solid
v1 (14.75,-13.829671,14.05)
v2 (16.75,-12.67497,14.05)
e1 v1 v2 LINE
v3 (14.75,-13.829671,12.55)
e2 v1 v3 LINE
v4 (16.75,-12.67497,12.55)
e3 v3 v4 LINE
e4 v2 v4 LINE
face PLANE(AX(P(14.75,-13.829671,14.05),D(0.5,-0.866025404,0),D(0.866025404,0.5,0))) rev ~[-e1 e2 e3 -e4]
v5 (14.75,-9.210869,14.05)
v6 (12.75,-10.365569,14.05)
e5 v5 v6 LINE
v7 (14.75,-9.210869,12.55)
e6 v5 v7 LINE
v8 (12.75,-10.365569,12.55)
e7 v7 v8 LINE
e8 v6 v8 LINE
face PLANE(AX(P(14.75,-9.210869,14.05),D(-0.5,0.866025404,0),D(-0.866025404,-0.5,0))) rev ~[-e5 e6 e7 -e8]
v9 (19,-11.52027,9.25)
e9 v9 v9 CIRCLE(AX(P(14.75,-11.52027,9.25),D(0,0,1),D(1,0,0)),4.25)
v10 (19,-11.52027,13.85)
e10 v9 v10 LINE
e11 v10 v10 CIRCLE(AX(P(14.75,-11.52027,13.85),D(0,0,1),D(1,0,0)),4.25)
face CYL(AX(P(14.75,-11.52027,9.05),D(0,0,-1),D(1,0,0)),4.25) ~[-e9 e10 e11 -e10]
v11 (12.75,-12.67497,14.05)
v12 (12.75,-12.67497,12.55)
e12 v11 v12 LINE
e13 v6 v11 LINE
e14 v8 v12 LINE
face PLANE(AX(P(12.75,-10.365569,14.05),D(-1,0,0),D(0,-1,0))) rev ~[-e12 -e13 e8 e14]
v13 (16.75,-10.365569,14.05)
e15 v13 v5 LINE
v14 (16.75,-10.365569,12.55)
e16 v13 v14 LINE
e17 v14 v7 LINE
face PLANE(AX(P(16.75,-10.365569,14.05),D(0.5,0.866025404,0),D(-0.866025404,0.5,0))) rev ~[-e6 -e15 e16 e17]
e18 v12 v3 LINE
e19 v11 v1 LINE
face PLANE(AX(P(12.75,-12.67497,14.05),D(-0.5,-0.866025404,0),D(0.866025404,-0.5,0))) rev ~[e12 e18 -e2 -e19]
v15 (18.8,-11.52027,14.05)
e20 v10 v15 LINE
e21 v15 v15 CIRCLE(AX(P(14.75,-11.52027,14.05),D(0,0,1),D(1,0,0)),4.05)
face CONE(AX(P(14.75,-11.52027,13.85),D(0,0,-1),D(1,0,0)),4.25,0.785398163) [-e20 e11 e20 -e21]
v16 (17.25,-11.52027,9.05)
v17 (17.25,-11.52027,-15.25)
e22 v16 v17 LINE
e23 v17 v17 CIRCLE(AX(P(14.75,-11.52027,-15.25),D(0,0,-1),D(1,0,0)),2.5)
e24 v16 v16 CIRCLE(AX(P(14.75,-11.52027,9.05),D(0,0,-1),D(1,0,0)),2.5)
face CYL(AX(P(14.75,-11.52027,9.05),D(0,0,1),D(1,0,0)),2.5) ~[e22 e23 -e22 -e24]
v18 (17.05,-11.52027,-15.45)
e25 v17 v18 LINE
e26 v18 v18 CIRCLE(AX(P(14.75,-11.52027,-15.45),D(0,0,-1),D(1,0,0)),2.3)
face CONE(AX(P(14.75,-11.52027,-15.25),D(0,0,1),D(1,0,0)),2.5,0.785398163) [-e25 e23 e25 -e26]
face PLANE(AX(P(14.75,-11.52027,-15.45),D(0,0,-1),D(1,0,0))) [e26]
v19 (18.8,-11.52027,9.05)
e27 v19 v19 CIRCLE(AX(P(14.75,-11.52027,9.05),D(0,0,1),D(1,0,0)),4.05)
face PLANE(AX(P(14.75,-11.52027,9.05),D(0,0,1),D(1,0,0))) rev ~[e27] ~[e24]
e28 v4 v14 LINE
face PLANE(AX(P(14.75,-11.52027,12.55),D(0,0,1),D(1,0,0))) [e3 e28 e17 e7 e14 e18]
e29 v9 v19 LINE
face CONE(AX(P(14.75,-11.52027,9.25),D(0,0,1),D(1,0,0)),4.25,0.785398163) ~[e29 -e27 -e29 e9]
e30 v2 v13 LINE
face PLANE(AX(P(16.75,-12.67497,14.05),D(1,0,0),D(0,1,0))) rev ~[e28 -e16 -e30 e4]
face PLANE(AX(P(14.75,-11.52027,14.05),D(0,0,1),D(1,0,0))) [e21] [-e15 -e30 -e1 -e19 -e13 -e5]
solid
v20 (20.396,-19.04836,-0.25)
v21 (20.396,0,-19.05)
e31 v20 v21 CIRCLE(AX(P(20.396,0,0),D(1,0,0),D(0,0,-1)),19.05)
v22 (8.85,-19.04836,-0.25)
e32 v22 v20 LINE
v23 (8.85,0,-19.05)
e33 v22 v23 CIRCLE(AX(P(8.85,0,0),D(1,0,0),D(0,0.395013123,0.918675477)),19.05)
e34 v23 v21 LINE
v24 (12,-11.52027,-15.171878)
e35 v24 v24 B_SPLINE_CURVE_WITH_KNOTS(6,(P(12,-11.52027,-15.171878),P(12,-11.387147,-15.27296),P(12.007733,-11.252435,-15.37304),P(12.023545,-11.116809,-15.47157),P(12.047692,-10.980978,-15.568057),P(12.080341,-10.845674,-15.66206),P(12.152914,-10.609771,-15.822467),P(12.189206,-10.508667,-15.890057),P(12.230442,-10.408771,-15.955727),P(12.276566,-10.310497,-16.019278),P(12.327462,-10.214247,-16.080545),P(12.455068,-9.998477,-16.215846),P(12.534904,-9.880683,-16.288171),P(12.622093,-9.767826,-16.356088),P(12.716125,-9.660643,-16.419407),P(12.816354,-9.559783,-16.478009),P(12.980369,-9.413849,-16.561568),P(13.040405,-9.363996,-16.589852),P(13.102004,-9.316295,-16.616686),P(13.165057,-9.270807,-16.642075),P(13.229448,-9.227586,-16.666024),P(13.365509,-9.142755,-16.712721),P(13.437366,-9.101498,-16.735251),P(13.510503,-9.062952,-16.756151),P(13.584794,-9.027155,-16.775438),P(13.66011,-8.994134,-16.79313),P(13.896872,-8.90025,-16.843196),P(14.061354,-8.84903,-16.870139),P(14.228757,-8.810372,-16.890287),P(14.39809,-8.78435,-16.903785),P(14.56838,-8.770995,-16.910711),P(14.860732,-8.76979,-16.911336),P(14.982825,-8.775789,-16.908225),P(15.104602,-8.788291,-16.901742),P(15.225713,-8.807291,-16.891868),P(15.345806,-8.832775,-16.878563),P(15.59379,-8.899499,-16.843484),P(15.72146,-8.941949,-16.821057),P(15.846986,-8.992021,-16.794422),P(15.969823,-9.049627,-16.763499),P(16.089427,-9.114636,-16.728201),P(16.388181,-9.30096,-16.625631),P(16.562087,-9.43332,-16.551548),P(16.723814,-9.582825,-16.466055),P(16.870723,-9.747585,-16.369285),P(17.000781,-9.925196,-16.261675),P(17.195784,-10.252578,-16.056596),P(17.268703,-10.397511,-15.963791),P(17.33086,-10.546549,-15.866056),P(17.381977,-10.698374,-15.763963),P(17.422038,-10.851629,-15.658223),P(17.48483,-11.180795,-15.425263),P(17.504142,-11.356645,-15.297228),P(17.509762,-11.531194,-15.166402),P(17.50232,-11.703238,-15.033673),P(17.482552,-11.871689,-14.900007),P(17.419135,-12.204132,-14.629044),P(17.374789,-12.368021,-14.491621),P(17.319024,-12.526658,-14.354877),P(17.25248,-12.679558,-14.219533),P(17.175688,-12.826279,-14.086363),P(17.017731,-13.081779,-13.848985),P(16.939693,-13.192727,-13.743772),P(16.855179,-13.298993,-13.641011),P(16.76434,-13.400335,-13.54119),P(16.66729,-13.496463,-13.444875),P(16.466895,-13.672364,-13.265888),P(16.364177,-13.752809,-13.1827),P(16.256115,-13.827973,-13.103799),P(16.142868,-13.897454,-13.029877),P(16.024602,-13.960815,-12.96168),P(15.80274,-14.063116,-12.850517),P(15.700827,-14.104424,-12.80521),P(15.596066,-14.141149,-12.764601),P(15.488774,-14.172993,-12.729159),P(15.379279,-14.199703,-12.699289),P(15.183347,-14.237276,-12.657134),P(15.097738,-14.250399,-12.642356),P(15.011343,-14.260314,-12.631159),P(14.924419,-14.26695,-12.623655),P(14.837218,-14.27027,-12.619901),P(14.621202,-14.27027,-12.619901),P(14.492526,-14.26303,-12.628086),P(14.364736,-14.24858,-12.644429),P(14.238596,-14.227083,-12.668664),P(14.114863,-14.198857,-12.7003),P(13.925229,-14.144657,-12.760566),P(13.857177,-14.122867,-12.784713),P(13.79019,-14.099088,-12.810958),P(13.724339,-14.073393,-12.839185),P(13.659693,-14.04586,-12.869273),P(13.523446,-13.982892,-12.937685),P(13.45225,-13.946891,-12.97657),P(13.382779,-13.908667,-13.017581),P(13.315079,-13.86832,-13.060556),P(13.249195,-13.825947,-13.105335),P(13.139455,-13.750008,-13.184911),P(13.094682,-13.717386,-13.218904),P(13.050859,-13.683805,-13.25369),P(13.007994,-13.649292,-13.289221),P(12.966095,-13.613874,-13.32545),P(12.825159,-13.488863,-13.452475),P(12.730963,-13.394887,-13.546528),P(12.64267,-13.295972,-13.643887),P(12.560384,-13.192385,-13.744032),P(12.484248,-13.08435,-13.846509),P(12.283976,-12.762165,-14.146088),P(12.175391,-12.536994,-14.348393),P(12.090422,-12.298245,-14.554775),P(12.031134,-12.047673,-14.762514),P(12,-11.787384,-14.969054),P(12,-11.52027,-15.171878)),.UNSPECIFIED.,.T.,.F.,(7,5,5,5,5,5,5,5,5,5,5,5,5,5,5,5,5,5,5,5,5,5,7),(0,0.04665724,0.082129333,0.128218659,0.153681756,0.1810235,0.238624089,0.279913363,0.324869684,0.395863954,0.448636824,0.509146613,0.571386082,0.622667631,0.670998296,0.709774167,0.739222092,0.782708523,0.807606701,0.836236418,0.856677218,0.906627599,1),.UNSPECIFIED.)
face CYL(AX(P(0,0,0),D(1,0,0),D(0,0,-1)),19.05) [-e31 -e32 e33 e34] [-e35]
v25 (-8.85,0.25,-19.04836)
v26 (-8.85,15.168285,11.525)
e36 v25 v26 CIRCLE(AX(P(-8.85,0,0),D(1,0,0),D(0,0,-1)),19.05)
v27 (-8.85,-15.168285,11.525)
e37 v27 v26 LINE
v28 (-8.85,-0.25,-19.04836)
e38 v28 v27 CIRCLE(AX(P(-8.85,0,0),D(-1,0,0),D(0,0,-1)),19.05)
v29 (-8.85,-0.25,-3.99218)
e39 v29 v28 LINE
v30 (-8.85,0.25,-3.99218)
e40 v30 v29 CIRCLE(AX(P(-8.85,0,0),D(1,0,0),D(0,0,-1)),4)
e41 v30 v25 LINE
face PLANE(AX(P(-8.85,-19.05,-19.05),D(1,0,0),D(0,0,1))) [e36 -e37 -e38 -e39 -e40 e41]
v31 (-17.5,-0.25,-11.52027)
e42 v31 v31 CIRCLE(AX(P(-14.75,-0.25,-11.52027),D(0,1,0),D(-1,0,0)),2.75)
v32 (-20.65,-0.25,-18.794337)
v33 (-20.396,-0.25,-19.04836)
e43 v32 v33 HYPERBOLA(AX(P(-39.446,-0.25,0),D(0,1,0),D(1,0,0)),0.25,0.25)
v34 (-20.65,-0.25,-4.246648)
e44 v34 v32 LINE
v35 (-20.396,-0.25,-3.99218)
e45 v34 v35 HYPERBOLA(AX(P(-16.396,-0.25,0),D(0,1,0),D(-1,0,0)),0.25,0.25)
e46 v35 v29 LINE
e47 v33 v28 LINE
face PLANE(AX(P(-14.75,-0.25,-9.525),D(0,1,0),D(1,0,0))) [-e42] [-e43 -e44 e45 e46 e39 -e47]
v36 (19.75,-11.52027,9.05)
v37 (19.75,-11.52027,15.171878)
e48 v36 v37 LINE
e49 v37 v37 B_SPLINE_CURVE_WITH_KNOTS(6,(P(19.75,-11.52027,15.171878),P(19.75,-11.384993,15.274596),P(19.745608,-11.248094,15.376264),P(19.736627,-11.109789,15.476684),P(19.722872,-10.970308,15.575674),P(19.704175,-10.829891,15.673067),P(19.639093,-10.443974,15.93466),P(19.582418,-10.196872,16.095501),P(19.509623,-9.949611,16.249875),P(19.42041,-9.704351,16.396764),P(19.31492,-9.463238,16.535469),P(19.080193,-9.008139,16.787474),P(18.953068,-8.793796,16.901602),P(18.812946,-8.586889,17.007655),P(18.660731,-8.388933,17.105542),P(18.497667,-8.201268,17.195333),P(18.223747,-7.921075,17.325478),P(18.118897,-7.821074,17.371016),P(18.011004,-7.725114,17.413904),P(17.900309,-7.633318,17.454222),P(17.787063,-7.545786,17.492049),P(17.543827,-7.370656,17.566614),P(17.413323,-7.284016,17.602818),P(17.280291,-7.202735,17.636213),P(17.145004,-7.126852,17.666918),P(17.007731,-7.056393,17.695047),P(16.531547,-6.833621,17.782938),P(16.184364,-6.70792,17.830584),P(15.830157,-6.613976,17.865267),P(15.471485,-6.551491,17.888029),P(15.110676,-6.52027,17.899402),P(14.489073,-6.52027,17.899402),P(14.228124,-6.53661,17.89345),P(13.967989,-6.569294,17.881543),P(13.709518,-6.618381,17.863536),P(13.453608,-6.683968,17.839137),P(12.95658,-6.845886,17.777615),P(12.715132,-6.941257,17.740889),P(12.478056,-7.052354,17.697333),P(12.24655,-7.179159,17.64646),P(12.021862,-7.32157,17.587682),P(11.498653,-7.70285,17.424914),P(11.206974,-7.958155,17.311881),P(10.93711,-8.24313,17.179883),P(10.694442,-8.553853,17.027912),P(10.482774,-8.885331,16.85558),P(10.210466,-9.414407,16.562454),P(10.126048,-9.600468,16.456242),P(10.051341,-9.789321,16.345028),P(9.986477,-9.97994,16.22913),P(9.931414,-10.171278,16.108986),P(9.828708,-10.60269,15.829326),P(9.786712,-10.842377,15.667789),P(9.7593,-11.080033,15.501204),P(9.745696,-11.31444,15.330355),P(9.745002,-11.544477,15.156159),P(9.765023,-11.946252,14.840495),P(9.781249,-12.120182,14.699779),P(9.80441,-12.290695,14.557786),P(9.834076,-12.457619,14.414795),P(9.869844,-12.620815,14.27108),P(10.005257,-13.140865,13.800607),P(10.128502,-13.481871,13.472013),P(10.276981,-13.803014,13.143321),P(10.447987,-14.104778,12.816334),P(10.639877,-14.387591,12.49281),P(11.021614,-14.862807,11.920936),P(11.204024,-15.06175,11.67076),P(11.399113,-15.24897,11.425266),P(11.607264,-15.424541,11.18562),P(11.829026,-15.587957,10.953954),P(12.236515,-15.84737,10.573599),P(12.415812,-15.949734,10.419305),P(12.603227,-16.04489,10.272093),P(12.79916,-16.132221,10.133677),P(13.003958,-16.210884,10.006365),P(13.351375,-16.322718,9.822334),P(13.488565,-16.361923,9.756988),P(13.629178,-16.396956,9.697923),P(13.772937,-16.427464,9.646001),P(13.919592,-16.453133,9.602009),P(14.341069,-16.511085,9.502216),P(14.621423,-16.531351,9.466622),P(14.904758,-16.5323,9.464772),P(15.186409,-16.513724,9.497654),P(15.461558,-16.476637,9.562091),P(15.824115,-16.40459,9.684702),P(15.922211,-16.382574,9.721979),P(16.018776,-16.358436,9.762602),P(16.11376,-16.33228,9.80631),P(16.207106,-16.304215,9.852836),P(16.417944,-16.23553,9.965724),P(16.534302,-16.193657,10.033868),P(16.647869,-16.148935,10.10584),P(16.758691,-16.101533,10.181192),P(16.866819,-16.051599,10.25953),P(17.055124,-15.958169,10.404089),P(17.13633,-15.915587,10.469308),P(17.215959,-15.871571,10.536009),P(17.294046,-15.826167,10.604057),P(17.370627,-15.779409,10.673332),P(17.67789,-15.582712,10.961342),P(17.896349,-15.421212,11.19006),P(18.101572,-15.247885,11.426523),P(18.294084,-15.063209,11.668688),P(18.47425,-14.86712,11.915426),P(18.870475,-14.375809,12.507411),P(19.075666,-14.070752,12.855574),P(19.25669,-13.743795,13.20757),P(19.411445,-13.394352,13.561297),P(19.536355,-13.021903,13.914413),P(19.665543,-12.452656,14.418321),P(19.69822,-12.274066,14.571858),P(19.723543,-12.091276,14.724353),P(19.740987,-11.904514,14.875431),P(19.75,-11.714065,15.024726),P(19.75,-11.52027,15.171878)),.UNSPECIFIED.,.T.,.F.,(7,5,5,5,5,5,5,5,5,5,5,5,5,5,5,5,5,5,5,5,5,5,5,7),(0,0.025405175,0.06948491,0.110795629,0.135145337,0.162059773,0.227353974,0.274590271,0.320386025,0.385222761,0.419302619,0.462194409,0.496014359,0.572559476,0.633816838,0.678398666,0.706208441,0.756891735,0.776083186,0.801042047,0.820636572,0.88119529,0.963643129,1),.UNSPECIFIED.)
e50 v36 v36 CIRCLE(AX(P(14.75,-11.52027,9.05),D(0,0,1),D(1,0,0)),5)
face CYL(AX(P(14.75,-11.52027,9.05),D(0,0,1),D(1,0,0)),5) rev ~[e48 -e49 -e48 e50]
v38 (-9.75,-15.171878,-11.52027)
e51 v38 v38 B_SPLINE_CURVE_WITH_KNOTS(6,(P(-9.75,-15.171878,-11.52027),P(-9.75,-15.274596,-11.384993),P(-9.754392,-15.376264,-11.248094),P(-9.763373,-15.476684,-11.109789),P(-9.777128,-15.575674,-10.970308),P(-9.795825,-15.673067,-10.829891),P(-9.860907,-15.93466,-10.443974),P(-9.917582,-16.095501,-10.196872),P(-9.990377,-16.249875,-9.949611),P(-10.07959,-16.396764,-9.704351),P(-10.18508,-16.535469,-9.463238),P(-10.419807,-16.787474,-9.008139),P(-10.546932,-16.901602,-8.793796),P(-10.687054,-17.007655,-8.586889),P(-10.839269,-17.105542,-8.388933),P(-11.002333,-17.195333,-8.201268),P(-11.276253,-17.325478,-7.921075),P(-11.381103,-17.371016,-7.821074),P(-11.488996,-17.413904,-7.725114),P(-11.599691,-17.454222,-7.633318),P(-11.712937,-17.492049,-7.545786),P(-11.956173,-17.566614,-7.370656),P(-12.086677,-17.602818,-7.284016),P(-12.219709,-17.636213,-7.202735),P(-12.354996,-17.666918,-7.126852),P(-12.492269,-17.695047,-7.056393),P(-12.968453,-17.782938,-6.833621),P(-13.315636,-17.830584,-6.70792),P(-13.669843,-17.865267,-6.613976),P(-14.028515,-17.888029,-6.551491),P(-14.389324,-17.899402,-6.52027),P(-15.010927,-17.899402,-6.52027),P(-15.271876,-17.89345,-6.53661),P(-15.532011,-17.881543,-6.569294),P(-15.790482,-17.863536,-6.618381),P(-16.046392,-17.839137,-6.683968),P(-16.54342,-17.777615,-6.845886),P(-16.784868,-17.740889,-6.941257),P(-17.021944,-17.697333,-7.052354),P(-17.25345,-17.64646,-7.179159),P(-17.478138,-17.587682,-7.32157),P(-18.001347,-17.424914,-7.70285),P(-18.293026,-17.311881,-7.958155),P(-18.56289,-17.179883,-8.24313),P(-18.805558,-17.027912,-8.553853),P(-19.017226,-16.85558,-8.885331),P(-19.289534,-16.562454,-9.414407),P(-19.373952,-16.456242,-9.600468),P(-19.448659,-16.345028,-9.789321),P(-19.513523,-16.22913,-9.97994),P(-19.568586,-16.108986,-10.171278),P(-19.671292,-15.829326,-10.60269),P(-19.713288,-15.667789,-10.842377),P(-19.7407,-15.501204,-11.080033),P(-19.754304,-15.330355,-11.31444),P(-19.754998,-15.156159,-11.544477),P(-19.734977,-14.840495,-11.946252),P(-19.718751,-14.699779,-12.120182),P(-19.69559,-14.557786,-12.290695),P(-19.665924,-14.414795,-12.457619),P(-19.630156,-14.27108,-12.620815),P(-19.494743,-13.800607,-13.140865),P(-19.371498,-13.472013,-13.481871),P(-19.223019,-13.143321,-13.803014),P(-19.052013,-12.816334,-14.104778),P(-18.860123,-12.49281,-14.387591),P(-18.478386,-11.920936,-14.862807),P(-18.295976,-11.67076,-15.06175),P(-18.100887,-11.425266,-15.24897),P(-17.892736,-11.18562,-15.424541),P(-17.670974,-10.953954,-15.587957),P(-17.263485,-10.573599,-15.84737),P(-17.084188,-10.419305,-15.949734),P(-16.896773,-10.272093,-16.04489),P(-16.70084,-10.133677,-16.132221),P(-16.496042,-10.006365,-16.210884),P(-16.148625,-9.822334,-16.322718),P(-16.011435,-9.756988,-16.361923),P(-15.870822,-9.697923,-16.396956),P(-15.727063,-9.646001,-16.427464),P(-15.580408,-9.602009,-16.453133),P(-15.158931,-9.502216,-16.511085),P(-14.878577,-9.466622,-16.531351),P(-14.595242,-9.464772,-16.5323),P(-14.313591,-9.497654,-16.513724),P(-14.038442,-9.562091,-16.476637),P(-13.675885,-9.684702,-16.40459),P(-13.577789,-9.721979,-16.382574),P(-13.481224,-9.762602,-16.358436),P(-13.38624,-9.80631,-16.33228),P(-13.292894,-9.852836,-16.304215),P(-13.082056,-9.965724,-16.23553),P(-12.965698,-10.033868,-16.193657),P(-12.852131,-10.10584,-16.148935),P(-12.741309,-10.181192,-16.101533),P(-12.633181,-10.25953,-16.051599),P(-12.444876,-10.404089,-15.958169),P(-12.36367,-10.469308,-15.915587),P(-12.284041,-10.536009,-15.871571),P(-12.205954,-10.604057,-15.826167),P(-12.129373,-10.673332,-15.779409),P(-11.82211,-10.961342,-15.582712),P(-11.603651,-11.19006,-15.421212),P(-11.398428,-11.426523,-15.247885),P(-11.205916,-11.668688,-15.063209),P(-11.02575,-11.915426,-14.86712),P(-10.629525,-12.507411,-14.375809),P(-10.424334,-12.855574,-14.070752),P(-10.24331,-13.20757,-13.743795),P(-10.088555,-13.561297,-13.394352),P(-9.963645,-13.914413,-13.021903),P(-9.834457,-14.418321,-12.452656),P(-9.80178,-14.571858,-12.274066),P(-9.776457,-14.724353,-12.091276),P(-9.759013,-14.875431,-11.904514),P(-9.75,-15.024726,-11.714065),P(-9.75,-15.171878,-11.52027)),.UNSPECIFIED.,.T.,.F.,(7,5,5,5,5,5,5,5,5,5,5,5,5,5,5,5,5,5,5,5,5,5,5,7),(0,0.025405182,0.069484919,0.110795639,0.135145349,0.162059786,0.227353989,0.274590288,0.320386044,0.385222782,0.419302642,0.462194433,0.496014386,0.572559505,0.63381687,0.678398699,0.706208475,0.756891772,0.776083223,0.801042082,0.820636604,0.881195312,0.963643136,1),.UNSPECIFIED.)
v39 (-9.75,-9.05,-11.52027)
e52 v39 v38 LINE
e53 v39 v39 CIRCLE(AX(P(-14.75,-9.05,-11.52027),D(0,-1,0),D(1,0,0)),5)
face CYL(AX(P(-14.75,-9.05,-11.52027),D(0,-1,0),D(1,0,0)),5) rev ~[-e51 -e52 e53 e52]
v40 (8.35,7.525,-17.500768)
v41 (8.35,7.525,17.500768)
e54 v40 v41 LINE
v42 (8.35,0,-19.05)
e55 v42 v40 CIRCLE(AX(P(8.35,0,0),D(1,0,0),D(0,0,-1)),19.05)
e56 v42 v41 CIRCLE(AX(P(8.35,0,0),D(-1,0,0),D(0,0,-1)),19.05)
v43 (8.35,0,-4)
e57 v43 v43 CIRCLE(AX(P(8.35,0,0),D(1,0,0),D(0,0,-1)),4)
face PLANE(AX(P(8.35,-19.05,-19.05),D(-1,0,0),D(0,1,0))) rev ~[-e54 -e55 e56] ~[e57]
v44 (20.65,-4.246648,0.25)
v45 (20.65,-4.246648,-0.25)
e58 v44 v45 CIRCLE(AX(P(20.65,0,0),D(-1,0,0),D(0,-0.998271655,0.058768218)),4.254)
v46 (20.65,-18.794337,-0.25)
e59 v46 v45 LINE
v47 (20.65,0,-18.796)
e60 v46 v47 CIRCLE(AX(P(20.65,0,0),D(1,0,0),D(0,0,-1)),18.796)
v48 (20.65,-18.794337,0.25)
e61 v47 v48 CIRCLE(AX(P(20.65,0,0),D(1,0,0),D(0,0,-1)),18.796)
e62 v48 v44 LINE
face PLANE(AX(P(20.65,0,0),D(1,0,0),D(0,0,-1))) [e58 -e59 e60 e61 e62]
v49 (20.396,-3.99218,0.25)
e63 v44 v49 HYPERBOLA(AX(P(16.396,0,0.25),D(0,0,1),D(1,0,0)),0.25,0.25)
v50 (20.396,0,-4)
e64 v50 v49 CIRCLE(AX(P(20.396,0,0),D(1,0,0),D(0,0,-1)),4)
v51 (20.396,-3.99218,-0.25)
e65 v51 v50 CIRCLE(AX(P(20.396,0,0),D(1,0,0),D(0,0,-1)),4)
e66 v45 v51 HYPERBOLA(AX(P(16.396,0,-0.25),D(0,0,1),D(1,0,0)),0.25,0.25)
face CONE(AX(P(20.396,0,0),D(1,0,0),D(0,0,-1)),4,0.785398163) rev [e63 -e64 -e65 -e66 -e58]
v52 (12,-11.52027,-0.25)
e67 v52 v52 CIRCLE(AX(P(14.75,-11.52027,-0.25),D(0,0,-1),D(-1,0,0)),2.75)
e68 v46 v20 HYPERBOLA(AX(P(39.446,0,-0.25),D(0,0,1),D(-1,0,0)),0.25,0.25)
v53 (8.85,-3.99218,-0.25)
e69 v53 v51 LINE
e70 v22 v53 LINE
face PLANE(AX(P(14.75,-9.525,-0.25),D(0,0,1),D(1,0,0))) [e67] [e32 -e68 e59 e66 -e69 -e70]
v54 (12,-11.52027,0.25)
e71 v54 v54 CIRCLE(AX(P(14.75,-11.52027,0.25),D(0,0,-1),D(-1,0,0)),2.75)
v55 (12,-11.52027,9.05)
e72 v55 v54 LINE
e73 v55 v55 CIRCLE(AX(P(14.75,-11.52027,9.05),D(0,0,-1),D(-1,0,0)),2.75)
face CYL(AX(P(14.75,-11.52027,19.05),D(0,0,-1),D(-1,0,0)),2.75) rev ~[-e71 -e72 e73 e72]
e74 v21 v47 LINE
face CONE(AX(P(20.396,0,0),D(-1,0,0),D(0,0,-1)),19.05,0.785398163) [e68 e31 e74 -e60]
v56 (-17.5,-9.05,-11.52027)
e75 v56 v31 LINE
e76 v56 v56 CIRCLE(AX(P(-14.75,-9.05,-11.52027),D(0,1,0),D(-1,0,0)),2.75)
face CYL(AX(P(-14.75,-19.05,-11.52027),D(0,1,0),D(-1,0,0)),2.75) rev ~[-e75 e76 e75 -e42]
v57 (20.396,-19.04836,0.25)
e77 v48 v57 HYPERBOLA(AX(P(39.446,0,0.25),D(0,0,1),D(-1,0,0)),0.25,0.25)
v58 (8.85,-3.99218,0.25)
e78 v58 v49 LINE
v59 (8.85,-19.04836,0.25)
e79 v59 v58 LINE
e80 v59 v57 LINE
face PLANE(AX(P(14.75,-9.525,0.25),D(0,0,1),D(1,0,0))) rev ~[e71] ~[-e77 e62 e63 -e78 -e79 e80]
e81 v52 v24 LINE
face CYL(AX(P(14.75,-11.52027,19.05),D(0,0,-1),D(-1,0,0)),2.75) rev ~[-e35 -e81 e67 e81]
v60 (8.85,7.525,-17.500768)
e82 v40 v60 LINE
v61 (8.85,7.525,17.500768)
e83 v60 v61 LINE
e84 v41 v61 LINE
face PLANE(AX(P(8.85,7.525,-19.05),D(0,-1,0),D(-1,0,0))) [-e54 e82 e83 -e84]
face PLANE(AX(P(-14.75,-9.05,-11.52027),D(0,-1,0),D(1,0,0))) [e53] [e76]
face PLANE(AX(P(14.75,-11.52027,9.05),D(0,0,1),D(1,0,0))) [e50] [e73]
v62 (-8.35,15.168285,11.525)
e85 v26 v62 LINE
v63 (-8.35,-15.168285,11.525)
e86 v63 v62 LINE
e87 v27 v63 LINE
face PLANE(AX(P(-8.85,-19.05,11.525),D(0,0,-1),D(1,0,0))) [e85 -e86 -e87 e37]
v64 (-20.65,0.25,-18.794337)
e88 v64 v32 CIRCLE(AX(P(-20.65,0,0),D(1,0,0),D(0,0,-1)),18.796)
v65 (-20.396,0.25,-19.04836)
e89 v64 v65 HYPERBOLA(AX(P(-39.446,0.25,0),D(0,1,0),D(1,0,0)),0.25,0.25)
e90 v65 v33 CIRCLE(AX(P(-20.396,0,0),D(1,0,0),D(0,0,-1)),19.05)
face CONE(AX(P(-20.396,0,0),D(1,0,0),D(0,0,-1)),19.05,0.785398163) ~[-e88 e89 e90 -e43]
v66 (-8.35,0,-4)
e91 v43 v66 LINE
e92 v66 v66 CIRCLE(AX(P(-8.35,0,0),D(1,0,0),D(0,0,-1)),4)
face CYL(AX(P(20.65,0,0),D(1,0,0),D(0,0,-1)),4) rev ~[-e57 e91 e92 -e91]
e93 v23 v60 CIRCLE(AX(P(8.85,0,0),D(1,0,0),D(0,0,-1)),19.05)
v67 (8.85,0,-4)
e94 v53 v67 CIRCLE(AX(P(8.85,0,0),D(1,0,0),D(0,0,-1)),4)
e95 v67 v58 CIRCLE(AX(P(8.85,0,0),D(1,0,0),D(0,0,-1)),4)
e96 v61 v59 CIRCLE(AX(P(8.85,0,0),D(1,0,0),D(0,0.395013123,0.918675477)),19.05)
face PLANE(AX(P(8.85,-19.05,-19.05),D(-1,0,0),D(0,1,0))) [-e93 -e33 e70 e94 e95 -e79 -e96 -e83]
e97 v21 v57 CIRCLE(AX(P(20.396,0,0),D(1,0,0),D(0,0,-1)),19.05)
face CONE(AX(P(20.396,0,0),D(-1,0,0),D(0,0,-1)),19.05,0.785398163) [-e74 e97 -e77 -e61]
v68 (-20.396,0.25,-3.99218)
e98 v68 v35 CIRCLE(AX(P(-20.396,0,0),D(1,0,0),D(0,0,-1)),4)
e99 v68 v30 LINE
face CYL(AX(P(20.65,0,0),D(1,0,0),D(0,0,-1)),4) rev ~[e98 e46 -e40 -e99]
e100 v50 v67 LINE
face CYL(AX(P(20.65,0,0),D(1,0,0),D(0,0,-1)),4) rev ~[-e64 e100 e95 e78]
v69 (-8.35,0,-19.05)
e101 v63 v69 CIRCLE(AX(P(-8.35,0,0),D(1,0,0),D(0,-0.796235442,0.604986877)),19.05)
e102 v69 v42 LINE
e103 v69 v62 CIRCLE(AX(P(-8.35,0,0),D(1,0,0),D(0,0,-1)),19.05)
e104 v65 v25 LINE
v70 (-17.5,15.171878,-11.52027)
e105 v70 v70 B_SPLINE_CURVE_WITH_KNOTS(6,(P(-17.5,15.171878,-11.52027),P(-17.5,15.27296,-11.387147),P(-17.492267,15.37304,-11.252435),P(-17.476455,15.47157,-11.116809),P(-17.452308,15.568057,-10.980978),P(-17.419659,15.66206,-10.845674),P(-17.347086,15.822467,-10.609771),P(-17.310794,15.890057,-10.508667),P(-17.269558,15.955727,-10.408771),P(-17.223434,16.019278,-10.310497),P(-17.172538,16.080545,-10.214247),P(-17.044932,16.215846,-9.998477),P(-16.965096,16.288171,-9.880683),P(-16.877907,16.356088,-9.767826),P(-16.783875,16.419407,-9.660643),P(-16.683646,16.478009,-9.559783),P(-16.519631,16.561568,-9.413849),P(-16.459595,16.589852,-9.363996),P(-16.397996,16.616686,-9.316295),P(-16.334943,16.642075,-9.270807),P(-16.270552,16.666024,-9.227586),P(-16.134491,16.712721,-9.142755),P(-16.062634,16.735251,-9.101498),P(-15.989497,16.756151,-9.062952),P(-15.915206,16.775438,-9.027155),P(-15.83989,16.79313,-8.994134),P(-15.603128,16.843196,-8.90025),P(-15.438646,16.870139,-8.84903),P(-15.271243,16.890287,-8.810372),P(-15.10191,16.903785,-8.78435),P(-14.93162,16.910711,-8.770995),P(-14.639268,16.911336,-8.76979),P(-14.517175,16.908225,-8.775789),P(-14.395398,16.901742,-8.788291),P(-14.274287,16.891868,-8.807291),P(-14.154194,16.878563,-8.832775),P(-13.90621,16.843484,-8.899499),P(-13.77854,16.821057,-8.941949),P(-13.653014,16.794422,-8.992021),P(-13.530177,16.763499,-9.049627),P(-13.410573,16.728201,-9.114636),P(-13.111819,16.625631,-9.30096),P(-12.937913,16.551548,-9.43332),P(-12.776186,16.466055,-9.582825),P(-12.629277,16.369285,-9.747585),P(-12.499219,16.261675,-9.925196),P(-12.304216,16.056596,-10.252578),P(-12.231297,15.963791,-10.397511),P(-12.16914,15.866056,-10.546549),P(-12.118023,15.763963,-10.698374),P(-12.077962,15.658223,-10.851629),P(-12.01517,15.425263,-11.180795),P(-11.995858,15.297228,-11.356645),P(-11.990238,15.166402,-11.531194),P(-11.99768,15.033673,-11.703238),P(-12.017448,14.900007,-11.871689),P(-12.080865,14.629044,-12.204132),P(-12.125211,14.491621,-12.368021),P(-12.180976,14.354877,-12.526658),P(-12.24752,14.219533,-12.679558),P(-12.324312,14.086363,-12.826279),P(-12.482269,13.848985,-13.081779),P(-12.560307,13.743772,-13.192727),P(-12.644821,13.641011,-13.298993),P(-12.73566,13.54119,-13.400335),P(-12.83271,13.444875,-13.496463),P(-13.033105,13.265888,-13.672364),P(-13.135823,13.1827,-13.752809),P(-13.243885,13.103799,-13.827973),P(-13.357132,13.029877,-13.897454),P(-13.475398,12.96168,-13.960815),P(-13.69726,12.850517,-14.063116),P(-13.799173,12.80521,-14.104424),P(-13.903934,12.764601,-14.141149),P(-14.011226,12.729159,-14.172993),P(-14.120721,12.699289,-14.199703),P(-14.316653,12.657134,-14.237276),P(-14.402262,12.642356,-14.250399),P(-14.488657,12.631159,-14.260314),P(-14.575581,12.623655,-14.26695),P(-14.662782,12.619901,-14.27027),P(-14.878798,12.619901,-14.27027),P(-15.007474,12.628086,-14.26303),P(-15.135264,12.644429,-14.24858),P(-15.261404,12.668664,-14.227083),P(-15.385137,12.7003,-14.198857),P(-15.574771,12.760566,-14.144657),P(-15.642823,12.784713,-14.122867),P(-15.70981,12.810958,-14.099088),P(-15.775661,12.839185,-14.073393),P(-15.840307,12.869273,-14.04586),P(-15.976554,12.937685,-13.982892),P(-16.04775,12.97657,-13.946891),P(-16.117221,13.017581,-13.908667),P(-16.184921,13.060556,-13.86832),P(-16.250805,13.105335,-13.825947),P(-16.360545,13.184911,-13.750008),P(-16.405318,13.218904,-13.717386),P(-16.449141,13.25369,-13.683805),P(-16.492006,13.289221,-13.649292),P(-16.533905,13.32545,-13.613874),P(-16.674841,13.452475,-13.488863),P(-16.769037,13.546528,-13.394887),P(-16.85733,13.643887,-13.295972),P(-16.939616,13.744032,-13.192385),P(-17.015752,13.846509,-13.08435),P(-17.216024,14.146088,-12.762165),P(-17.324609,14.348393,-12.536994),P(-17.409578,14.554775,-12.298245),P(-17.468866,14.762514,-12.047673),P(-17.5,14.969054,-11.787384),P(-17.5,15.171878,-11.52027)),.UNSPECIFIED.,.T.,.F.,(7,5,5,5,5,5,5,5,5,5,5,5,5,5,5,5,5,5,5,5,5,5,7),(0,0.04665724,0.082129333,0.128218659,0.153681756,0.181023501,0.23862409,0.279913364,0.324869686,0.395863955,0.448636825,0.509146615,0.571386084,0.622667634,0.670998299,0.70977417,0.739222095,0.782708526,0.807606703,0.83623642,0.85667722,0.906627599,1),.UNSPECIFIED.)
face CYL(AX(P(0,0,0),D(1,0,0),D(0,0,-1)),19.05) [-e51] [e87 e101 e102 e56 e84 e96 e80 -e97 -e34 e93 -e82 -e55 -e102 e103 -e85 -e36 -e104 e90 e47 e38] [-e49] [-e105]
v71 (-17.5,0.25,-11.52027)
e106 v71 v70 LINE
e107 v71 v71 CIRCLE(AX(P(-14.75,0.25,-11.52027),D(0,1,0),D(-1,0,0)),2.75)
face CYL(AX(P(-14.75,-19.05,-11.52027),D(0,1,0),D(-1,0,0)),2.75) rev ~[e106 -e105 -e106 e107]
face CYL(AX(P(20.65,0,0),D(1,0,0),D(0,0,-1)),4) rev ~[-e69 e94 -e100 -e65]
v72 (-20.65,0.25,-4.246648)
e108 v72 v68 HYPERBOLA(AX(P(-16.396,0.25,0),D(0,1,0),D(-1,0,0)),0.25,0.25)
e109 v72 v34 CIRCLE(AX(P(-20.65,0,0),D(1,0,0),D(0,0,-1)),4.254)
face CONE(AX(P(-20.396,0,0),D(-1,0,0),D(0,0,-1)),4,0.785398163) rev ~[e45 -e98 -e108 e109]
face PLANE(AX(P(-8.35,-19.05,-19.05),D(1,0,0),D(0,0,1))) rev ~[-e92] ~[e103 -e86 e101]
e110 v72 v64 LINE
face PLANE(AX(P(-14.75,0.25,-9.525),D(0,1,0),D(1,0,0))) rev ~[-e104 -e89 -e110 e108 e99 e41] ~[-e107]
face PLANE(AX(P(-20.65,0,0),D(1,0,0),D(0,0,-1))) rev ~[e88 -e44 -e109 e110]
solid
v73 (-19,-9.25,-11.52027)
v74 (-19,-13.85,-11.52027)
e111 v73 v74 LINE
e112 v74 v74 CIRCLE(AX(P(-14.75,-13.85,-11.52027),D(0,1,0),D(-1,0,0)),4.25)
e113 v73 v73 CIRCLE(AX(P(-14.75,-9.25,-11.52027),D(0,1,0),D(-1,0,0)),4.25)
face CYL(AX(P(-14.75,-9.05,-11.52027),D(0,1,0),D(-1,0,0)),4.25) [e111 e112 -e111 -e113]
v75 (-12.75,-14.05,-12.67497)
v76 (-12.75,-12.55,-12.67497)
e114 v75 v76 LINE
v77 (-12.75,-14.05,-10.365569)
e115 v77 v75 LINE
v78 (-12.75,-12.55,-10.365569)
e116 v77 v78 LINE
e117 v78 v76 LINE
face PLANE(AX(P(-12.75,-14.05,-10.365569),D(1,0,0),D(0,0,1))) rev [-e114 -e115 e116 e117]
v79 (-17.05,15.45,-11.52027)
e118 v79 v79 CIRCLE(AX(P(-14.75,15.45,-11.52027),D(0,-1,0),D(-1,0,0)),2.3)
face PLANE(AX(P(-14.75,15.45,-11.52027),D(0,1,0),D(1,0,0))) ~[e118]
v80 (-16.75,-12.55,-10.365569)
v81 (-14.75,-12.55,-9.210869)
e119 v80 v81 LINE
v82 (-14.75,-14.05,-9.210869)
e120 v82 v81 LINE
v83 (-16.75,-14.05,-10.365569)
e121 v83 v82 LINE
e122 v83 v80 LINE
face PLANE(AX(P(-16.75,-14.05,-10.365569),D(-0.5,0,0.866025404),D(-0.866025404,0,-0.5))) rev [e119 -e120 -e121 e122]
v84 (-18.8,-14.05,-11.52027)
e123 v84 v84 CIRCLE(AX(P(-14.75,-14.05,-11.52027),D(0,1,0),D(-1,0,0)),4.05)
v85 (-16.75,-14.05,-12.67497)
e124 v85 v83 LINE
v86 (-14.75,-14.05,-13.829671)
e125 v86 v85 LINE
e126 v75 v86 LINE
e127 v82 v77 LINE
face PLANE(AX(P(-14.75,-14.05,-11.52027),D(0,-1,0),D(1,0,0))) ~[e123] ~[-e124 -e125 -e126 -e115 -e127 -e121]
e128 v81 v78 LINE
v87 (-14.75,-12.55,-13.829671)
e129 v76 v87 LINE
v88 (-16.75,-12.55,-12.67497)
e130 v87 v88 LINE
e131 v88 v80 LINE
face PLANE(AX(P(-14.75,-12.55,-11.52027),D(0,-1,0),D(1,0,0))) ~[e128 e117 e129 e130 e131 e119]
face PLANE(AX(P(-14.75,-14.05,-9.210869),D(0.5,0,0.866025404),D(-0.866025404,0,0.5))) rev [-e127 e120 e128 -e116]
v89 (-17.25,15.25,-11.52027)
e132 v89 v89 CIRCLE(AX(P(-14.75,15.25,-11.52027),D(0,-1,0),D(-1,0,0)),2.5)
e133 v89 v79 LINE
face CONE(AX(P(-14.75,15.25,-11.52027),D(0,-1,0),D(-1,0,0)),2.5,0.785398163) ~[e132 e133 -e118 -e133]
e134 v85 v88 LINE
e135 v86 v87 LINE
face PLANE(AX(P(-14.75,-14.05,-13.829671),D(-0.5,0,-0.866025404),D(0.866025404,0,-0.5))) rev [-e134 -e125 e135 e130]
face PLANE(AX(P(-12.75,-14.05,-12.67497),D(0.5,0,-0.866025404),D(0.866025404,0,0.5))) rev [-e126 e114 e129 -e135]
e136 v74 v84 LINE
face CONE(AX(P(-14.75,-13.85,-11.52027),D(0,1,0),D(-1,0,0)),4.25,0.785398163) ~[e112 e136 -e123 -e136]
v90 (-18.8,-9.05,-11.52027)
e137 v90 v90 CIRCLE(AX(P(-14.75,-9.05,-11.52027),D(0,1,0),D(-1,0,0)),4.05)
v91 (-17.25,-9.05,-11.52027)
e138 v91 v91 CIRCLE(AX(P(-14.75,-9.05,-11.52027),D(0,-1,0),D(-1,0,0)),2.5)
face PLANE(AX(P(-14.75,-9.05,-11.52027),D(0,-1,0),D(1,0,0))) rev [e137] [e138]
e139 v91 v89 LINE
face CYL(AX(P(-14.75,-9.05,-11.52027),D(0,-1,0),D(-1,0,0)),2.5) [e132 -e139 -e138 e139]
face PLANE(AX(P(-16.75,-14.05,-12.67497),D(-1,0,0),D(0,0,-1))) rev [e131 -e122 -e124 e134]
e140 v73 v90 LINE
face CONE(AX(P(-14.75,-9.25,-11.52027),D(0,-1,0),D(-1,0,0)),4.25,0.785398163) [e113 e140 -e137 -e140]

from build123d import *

# Parameters (mm, degrees)
SKETCH1_R                      = 19.05
BOSS_EXTRUDE1_DEPTH            = 20.65
SKETCH2_R                      = 4
CUT_EXTRUDE1_DEPTH             = 42.3
CHAMFER1_SIZE                  = 0.254
SKETCH4_W                      = 0.5
SKETCH4_H                      = 30.575
CUT_EXTRUDE2_DEPTH             = 39.1
SKETCH7_W                      = 0.5
SKETCH7_H                      = 26.575
CUT_EXTRUDE3_DEPTH             = 39.1
SKETCH8_W                      = 11.8
SKETCH8_H                      = 19.05
CUT_EXTRUDE5_DEPTH             = 0.25
SKETCH13_W                     = 11.8
SKETCH13_H                     = 19.05
CUT_EXTRUDE6_DEPTH             = 0.25
CBORE_FOR_M5_SHCS1_D           = 5.5
CBORE_FOR_M5_SHCS1_CBORE_D     = 10
CBORE_FOR_M5_SHCS1_CBORE_DEPTH = 10
CBORE_FOR_M5_SHCS2_D           = 5.5
CBORE_FOR_M5_SHCS2_CBORE_D     = 10
CBORE_FOR_M5_SHCS2_CBORE_DEPTH = 10
SKETCH16_R                     = 4.25
BOSS_EXTRUDE2_DEPTH            = 5
SKETCH17_R                     = 2.5
BOSS_EXTRUDE3_DEPTH            = 24.5
CHAMFER2_SIZE                  = 0.2
CUT_EXTRUDE7_DEPTH             = 1.5
CIRPATTERN1_COUNT              = 2
CIRPATTERN1_ANGLE              = 90


with BuildPart() as part:
    # Sketch1 → Boss-Extrude1 (new body, symmetric)
    with BuildSketch(Plane(origin=(0, 0, 0), x_dir=(0, 0, -1), z_dir=(1, 0, 0))):
        Circle(SKETCH1_R)
    extrude(amount=BOSS_EXTRUDE1_DEPTH, both=True)

    # Sketch2 → Cut-Extrude1 (cut, through all)
    with BuildSketch(Plane(origin=(20.65, 0, 0), x_dir=(0, 0, -1), z_dir=(1, 0, 0))):
        Circle(SKETCH2_R)
    extrude(amount=-CUT_EXTRUDE1_DEPTH, mode=Mode.SUBTRACT)

    # Chamfer1
    chamfer1_edges = [part.edges().sort_by_distance(p)[0] for p in [
        (-20.65, 0, 19.05),
        (20.65, 0, 19.05),
        (-20.65, 0, 4),
        (20.65, 0, 4),
    ]]
    chamfer(chamfer1_edges, length=CHAMFER1_SIZE)

    # Sketch4 → Cut-Extrude2 (cut, through all)
    with BuildSketch(Plane.XZ.offset(19.05)):
        with Locations((-8.6, -3.7625)):
            Rectangle(SKETCH4_W, SKETCH4_H)
    extrude(amount=-CUT_EXTRUDE2_DEPTH, mode=Mode.SUBTRACT)

    # Sketch7 → Cut-Extrude3 (cut, through all)
    with BuildSketch(Plane(origin=(0, 0, -19.05), x_dir=(-1, 0, 0), z_dir=(0, 0, -1))):
        with Locations((-8.6, -5.7625)):
            Rectangle(SKETCH7_W, SKETCH7_H)
    extrude(amount=-CUT_EXTRUDE3_DEPTH, mode=Mode.SUBTRACT)

    # Sketch8 → Cut-Extrude5 (cut, symmetric)
    with BuildSketch(Plane(origin=(0, 0, 0), x_dir=(1, 0, 0), z_dir=(0, 1, 0))):
        with Locations((-14.75, 9.525)):
            Rectangle(SKETCH8_W, SKETCH8_H)
    extrude(amount=CUT_EXTRUDE5_DEPTH, both=True, mode=Mode.SUBTRACT)

    # Sketch13 → Cut-Extrude6 (cut, symmetric)
    with BuildSketch(Plane.XY):
        with Locations((14.75, -9.525)):
            Rectangle(SKETCH13_W, SKETCH13_H)
    extrude(amount=CUT_EXTRUDE6_DEPTH, both=True, mode=Mode.SUBTRACT)

    # CBORE for M5 SHCS1 (through all)
    with Locations(Plane.XZ.offset(19.05)):
        with Locations((-14.75, -11.520269683)):
            CounterBoreHole(CBORE_FOR_M5_SHCS1_D / 2, CBORE_FOR_M5_SHCS1_CBORE_D / 2, CBORE_FOR_M5_SHCS1_CBORE_DEPTH)

    # CBORE for M5 SHCS2 (through all)
    with Locations(Plane.XY.offset(19.05)):
        with Locations((14.75, -11.520269683)):
            CounterBoreHole(CBORE_FOR_M5_SHCS2_D / 2, CBORE_FOR_M5_SHCS2_CBORE_D / 2, CBORE_FOR_M5_SHCS2_CBORE_DEPTH)


with BuildPart() as body_2:
    # Sketch16 → Boss-Extrude2 (new body)
    with BuildSketch(Plane.XY.offset(9.05)):
        with Locations((14.75, -11.520269683)):
            Circle(SKETCH16_R)
    extrude(amount=BOSS_EXTRUDE2_DEPTH)

    # Sketch17 → Boss-Extrude3 (add)
    with BuildSketch(Plane(origin=(0, 0, 9.05), x_dir=(-1, 0, 0), z_dir=(0, 0, -1))):
        with Locations(Location((-14.75, -11.520269683, 0), (0, 0, 180))):  # turned: the seam where the file's is
            Circle(SKETCH17_R)
    extrude(amount=BOSS_EXTRUDE3_DEPTH)

    # Chamfer2
    chamfer2_edges = [body_2.edges().sort_by_distance(p)[0] for p in [
        (10.5, -11.520269683, 9.05),
        (10.5, -11.520269683, 14.05),
        (12.25, -11.520269683, -15.45),
    ]]
    chamfer(chamfer2_edges, length=CHAMFER2_SIZE)

    # Sketch18 → Cut-Extrude7 (cut)
    with BuildSketch(Plane.XY.offset(14.05)):
        Polygon((14.75, -13.829670759), (16.75, -12.674970221), (16.75, -10.365569144), (14.75, -9.210868606), (12.75, -10.365569144), (12.75, -12.674970221), align=None)
    extrude(amount=-CUT_EXTRUDE7_DEPTH, mode=Mode.SUBTRACT)


with BuildPart() as body_3:
    # Mirror1: mirrored copy
    add(body_2.part.mirror(Plane(origin=(0, 0, 0), x_dir=(0, 0, 1), z_dir=(1, 0, 0))))


with BuildPart() as cirpattern1_1:
    # CirPattern1: pattern copy
    add(body_3.part.rotate(Axis((0, 0, 0), (1, 0, 0)), 1 * CIRPATTERN1_ANGLE / (CIRPATTERN1_COUNT - 1)))


solid = Compound([part.part, body_2.part, cirpattern1_1.part])
